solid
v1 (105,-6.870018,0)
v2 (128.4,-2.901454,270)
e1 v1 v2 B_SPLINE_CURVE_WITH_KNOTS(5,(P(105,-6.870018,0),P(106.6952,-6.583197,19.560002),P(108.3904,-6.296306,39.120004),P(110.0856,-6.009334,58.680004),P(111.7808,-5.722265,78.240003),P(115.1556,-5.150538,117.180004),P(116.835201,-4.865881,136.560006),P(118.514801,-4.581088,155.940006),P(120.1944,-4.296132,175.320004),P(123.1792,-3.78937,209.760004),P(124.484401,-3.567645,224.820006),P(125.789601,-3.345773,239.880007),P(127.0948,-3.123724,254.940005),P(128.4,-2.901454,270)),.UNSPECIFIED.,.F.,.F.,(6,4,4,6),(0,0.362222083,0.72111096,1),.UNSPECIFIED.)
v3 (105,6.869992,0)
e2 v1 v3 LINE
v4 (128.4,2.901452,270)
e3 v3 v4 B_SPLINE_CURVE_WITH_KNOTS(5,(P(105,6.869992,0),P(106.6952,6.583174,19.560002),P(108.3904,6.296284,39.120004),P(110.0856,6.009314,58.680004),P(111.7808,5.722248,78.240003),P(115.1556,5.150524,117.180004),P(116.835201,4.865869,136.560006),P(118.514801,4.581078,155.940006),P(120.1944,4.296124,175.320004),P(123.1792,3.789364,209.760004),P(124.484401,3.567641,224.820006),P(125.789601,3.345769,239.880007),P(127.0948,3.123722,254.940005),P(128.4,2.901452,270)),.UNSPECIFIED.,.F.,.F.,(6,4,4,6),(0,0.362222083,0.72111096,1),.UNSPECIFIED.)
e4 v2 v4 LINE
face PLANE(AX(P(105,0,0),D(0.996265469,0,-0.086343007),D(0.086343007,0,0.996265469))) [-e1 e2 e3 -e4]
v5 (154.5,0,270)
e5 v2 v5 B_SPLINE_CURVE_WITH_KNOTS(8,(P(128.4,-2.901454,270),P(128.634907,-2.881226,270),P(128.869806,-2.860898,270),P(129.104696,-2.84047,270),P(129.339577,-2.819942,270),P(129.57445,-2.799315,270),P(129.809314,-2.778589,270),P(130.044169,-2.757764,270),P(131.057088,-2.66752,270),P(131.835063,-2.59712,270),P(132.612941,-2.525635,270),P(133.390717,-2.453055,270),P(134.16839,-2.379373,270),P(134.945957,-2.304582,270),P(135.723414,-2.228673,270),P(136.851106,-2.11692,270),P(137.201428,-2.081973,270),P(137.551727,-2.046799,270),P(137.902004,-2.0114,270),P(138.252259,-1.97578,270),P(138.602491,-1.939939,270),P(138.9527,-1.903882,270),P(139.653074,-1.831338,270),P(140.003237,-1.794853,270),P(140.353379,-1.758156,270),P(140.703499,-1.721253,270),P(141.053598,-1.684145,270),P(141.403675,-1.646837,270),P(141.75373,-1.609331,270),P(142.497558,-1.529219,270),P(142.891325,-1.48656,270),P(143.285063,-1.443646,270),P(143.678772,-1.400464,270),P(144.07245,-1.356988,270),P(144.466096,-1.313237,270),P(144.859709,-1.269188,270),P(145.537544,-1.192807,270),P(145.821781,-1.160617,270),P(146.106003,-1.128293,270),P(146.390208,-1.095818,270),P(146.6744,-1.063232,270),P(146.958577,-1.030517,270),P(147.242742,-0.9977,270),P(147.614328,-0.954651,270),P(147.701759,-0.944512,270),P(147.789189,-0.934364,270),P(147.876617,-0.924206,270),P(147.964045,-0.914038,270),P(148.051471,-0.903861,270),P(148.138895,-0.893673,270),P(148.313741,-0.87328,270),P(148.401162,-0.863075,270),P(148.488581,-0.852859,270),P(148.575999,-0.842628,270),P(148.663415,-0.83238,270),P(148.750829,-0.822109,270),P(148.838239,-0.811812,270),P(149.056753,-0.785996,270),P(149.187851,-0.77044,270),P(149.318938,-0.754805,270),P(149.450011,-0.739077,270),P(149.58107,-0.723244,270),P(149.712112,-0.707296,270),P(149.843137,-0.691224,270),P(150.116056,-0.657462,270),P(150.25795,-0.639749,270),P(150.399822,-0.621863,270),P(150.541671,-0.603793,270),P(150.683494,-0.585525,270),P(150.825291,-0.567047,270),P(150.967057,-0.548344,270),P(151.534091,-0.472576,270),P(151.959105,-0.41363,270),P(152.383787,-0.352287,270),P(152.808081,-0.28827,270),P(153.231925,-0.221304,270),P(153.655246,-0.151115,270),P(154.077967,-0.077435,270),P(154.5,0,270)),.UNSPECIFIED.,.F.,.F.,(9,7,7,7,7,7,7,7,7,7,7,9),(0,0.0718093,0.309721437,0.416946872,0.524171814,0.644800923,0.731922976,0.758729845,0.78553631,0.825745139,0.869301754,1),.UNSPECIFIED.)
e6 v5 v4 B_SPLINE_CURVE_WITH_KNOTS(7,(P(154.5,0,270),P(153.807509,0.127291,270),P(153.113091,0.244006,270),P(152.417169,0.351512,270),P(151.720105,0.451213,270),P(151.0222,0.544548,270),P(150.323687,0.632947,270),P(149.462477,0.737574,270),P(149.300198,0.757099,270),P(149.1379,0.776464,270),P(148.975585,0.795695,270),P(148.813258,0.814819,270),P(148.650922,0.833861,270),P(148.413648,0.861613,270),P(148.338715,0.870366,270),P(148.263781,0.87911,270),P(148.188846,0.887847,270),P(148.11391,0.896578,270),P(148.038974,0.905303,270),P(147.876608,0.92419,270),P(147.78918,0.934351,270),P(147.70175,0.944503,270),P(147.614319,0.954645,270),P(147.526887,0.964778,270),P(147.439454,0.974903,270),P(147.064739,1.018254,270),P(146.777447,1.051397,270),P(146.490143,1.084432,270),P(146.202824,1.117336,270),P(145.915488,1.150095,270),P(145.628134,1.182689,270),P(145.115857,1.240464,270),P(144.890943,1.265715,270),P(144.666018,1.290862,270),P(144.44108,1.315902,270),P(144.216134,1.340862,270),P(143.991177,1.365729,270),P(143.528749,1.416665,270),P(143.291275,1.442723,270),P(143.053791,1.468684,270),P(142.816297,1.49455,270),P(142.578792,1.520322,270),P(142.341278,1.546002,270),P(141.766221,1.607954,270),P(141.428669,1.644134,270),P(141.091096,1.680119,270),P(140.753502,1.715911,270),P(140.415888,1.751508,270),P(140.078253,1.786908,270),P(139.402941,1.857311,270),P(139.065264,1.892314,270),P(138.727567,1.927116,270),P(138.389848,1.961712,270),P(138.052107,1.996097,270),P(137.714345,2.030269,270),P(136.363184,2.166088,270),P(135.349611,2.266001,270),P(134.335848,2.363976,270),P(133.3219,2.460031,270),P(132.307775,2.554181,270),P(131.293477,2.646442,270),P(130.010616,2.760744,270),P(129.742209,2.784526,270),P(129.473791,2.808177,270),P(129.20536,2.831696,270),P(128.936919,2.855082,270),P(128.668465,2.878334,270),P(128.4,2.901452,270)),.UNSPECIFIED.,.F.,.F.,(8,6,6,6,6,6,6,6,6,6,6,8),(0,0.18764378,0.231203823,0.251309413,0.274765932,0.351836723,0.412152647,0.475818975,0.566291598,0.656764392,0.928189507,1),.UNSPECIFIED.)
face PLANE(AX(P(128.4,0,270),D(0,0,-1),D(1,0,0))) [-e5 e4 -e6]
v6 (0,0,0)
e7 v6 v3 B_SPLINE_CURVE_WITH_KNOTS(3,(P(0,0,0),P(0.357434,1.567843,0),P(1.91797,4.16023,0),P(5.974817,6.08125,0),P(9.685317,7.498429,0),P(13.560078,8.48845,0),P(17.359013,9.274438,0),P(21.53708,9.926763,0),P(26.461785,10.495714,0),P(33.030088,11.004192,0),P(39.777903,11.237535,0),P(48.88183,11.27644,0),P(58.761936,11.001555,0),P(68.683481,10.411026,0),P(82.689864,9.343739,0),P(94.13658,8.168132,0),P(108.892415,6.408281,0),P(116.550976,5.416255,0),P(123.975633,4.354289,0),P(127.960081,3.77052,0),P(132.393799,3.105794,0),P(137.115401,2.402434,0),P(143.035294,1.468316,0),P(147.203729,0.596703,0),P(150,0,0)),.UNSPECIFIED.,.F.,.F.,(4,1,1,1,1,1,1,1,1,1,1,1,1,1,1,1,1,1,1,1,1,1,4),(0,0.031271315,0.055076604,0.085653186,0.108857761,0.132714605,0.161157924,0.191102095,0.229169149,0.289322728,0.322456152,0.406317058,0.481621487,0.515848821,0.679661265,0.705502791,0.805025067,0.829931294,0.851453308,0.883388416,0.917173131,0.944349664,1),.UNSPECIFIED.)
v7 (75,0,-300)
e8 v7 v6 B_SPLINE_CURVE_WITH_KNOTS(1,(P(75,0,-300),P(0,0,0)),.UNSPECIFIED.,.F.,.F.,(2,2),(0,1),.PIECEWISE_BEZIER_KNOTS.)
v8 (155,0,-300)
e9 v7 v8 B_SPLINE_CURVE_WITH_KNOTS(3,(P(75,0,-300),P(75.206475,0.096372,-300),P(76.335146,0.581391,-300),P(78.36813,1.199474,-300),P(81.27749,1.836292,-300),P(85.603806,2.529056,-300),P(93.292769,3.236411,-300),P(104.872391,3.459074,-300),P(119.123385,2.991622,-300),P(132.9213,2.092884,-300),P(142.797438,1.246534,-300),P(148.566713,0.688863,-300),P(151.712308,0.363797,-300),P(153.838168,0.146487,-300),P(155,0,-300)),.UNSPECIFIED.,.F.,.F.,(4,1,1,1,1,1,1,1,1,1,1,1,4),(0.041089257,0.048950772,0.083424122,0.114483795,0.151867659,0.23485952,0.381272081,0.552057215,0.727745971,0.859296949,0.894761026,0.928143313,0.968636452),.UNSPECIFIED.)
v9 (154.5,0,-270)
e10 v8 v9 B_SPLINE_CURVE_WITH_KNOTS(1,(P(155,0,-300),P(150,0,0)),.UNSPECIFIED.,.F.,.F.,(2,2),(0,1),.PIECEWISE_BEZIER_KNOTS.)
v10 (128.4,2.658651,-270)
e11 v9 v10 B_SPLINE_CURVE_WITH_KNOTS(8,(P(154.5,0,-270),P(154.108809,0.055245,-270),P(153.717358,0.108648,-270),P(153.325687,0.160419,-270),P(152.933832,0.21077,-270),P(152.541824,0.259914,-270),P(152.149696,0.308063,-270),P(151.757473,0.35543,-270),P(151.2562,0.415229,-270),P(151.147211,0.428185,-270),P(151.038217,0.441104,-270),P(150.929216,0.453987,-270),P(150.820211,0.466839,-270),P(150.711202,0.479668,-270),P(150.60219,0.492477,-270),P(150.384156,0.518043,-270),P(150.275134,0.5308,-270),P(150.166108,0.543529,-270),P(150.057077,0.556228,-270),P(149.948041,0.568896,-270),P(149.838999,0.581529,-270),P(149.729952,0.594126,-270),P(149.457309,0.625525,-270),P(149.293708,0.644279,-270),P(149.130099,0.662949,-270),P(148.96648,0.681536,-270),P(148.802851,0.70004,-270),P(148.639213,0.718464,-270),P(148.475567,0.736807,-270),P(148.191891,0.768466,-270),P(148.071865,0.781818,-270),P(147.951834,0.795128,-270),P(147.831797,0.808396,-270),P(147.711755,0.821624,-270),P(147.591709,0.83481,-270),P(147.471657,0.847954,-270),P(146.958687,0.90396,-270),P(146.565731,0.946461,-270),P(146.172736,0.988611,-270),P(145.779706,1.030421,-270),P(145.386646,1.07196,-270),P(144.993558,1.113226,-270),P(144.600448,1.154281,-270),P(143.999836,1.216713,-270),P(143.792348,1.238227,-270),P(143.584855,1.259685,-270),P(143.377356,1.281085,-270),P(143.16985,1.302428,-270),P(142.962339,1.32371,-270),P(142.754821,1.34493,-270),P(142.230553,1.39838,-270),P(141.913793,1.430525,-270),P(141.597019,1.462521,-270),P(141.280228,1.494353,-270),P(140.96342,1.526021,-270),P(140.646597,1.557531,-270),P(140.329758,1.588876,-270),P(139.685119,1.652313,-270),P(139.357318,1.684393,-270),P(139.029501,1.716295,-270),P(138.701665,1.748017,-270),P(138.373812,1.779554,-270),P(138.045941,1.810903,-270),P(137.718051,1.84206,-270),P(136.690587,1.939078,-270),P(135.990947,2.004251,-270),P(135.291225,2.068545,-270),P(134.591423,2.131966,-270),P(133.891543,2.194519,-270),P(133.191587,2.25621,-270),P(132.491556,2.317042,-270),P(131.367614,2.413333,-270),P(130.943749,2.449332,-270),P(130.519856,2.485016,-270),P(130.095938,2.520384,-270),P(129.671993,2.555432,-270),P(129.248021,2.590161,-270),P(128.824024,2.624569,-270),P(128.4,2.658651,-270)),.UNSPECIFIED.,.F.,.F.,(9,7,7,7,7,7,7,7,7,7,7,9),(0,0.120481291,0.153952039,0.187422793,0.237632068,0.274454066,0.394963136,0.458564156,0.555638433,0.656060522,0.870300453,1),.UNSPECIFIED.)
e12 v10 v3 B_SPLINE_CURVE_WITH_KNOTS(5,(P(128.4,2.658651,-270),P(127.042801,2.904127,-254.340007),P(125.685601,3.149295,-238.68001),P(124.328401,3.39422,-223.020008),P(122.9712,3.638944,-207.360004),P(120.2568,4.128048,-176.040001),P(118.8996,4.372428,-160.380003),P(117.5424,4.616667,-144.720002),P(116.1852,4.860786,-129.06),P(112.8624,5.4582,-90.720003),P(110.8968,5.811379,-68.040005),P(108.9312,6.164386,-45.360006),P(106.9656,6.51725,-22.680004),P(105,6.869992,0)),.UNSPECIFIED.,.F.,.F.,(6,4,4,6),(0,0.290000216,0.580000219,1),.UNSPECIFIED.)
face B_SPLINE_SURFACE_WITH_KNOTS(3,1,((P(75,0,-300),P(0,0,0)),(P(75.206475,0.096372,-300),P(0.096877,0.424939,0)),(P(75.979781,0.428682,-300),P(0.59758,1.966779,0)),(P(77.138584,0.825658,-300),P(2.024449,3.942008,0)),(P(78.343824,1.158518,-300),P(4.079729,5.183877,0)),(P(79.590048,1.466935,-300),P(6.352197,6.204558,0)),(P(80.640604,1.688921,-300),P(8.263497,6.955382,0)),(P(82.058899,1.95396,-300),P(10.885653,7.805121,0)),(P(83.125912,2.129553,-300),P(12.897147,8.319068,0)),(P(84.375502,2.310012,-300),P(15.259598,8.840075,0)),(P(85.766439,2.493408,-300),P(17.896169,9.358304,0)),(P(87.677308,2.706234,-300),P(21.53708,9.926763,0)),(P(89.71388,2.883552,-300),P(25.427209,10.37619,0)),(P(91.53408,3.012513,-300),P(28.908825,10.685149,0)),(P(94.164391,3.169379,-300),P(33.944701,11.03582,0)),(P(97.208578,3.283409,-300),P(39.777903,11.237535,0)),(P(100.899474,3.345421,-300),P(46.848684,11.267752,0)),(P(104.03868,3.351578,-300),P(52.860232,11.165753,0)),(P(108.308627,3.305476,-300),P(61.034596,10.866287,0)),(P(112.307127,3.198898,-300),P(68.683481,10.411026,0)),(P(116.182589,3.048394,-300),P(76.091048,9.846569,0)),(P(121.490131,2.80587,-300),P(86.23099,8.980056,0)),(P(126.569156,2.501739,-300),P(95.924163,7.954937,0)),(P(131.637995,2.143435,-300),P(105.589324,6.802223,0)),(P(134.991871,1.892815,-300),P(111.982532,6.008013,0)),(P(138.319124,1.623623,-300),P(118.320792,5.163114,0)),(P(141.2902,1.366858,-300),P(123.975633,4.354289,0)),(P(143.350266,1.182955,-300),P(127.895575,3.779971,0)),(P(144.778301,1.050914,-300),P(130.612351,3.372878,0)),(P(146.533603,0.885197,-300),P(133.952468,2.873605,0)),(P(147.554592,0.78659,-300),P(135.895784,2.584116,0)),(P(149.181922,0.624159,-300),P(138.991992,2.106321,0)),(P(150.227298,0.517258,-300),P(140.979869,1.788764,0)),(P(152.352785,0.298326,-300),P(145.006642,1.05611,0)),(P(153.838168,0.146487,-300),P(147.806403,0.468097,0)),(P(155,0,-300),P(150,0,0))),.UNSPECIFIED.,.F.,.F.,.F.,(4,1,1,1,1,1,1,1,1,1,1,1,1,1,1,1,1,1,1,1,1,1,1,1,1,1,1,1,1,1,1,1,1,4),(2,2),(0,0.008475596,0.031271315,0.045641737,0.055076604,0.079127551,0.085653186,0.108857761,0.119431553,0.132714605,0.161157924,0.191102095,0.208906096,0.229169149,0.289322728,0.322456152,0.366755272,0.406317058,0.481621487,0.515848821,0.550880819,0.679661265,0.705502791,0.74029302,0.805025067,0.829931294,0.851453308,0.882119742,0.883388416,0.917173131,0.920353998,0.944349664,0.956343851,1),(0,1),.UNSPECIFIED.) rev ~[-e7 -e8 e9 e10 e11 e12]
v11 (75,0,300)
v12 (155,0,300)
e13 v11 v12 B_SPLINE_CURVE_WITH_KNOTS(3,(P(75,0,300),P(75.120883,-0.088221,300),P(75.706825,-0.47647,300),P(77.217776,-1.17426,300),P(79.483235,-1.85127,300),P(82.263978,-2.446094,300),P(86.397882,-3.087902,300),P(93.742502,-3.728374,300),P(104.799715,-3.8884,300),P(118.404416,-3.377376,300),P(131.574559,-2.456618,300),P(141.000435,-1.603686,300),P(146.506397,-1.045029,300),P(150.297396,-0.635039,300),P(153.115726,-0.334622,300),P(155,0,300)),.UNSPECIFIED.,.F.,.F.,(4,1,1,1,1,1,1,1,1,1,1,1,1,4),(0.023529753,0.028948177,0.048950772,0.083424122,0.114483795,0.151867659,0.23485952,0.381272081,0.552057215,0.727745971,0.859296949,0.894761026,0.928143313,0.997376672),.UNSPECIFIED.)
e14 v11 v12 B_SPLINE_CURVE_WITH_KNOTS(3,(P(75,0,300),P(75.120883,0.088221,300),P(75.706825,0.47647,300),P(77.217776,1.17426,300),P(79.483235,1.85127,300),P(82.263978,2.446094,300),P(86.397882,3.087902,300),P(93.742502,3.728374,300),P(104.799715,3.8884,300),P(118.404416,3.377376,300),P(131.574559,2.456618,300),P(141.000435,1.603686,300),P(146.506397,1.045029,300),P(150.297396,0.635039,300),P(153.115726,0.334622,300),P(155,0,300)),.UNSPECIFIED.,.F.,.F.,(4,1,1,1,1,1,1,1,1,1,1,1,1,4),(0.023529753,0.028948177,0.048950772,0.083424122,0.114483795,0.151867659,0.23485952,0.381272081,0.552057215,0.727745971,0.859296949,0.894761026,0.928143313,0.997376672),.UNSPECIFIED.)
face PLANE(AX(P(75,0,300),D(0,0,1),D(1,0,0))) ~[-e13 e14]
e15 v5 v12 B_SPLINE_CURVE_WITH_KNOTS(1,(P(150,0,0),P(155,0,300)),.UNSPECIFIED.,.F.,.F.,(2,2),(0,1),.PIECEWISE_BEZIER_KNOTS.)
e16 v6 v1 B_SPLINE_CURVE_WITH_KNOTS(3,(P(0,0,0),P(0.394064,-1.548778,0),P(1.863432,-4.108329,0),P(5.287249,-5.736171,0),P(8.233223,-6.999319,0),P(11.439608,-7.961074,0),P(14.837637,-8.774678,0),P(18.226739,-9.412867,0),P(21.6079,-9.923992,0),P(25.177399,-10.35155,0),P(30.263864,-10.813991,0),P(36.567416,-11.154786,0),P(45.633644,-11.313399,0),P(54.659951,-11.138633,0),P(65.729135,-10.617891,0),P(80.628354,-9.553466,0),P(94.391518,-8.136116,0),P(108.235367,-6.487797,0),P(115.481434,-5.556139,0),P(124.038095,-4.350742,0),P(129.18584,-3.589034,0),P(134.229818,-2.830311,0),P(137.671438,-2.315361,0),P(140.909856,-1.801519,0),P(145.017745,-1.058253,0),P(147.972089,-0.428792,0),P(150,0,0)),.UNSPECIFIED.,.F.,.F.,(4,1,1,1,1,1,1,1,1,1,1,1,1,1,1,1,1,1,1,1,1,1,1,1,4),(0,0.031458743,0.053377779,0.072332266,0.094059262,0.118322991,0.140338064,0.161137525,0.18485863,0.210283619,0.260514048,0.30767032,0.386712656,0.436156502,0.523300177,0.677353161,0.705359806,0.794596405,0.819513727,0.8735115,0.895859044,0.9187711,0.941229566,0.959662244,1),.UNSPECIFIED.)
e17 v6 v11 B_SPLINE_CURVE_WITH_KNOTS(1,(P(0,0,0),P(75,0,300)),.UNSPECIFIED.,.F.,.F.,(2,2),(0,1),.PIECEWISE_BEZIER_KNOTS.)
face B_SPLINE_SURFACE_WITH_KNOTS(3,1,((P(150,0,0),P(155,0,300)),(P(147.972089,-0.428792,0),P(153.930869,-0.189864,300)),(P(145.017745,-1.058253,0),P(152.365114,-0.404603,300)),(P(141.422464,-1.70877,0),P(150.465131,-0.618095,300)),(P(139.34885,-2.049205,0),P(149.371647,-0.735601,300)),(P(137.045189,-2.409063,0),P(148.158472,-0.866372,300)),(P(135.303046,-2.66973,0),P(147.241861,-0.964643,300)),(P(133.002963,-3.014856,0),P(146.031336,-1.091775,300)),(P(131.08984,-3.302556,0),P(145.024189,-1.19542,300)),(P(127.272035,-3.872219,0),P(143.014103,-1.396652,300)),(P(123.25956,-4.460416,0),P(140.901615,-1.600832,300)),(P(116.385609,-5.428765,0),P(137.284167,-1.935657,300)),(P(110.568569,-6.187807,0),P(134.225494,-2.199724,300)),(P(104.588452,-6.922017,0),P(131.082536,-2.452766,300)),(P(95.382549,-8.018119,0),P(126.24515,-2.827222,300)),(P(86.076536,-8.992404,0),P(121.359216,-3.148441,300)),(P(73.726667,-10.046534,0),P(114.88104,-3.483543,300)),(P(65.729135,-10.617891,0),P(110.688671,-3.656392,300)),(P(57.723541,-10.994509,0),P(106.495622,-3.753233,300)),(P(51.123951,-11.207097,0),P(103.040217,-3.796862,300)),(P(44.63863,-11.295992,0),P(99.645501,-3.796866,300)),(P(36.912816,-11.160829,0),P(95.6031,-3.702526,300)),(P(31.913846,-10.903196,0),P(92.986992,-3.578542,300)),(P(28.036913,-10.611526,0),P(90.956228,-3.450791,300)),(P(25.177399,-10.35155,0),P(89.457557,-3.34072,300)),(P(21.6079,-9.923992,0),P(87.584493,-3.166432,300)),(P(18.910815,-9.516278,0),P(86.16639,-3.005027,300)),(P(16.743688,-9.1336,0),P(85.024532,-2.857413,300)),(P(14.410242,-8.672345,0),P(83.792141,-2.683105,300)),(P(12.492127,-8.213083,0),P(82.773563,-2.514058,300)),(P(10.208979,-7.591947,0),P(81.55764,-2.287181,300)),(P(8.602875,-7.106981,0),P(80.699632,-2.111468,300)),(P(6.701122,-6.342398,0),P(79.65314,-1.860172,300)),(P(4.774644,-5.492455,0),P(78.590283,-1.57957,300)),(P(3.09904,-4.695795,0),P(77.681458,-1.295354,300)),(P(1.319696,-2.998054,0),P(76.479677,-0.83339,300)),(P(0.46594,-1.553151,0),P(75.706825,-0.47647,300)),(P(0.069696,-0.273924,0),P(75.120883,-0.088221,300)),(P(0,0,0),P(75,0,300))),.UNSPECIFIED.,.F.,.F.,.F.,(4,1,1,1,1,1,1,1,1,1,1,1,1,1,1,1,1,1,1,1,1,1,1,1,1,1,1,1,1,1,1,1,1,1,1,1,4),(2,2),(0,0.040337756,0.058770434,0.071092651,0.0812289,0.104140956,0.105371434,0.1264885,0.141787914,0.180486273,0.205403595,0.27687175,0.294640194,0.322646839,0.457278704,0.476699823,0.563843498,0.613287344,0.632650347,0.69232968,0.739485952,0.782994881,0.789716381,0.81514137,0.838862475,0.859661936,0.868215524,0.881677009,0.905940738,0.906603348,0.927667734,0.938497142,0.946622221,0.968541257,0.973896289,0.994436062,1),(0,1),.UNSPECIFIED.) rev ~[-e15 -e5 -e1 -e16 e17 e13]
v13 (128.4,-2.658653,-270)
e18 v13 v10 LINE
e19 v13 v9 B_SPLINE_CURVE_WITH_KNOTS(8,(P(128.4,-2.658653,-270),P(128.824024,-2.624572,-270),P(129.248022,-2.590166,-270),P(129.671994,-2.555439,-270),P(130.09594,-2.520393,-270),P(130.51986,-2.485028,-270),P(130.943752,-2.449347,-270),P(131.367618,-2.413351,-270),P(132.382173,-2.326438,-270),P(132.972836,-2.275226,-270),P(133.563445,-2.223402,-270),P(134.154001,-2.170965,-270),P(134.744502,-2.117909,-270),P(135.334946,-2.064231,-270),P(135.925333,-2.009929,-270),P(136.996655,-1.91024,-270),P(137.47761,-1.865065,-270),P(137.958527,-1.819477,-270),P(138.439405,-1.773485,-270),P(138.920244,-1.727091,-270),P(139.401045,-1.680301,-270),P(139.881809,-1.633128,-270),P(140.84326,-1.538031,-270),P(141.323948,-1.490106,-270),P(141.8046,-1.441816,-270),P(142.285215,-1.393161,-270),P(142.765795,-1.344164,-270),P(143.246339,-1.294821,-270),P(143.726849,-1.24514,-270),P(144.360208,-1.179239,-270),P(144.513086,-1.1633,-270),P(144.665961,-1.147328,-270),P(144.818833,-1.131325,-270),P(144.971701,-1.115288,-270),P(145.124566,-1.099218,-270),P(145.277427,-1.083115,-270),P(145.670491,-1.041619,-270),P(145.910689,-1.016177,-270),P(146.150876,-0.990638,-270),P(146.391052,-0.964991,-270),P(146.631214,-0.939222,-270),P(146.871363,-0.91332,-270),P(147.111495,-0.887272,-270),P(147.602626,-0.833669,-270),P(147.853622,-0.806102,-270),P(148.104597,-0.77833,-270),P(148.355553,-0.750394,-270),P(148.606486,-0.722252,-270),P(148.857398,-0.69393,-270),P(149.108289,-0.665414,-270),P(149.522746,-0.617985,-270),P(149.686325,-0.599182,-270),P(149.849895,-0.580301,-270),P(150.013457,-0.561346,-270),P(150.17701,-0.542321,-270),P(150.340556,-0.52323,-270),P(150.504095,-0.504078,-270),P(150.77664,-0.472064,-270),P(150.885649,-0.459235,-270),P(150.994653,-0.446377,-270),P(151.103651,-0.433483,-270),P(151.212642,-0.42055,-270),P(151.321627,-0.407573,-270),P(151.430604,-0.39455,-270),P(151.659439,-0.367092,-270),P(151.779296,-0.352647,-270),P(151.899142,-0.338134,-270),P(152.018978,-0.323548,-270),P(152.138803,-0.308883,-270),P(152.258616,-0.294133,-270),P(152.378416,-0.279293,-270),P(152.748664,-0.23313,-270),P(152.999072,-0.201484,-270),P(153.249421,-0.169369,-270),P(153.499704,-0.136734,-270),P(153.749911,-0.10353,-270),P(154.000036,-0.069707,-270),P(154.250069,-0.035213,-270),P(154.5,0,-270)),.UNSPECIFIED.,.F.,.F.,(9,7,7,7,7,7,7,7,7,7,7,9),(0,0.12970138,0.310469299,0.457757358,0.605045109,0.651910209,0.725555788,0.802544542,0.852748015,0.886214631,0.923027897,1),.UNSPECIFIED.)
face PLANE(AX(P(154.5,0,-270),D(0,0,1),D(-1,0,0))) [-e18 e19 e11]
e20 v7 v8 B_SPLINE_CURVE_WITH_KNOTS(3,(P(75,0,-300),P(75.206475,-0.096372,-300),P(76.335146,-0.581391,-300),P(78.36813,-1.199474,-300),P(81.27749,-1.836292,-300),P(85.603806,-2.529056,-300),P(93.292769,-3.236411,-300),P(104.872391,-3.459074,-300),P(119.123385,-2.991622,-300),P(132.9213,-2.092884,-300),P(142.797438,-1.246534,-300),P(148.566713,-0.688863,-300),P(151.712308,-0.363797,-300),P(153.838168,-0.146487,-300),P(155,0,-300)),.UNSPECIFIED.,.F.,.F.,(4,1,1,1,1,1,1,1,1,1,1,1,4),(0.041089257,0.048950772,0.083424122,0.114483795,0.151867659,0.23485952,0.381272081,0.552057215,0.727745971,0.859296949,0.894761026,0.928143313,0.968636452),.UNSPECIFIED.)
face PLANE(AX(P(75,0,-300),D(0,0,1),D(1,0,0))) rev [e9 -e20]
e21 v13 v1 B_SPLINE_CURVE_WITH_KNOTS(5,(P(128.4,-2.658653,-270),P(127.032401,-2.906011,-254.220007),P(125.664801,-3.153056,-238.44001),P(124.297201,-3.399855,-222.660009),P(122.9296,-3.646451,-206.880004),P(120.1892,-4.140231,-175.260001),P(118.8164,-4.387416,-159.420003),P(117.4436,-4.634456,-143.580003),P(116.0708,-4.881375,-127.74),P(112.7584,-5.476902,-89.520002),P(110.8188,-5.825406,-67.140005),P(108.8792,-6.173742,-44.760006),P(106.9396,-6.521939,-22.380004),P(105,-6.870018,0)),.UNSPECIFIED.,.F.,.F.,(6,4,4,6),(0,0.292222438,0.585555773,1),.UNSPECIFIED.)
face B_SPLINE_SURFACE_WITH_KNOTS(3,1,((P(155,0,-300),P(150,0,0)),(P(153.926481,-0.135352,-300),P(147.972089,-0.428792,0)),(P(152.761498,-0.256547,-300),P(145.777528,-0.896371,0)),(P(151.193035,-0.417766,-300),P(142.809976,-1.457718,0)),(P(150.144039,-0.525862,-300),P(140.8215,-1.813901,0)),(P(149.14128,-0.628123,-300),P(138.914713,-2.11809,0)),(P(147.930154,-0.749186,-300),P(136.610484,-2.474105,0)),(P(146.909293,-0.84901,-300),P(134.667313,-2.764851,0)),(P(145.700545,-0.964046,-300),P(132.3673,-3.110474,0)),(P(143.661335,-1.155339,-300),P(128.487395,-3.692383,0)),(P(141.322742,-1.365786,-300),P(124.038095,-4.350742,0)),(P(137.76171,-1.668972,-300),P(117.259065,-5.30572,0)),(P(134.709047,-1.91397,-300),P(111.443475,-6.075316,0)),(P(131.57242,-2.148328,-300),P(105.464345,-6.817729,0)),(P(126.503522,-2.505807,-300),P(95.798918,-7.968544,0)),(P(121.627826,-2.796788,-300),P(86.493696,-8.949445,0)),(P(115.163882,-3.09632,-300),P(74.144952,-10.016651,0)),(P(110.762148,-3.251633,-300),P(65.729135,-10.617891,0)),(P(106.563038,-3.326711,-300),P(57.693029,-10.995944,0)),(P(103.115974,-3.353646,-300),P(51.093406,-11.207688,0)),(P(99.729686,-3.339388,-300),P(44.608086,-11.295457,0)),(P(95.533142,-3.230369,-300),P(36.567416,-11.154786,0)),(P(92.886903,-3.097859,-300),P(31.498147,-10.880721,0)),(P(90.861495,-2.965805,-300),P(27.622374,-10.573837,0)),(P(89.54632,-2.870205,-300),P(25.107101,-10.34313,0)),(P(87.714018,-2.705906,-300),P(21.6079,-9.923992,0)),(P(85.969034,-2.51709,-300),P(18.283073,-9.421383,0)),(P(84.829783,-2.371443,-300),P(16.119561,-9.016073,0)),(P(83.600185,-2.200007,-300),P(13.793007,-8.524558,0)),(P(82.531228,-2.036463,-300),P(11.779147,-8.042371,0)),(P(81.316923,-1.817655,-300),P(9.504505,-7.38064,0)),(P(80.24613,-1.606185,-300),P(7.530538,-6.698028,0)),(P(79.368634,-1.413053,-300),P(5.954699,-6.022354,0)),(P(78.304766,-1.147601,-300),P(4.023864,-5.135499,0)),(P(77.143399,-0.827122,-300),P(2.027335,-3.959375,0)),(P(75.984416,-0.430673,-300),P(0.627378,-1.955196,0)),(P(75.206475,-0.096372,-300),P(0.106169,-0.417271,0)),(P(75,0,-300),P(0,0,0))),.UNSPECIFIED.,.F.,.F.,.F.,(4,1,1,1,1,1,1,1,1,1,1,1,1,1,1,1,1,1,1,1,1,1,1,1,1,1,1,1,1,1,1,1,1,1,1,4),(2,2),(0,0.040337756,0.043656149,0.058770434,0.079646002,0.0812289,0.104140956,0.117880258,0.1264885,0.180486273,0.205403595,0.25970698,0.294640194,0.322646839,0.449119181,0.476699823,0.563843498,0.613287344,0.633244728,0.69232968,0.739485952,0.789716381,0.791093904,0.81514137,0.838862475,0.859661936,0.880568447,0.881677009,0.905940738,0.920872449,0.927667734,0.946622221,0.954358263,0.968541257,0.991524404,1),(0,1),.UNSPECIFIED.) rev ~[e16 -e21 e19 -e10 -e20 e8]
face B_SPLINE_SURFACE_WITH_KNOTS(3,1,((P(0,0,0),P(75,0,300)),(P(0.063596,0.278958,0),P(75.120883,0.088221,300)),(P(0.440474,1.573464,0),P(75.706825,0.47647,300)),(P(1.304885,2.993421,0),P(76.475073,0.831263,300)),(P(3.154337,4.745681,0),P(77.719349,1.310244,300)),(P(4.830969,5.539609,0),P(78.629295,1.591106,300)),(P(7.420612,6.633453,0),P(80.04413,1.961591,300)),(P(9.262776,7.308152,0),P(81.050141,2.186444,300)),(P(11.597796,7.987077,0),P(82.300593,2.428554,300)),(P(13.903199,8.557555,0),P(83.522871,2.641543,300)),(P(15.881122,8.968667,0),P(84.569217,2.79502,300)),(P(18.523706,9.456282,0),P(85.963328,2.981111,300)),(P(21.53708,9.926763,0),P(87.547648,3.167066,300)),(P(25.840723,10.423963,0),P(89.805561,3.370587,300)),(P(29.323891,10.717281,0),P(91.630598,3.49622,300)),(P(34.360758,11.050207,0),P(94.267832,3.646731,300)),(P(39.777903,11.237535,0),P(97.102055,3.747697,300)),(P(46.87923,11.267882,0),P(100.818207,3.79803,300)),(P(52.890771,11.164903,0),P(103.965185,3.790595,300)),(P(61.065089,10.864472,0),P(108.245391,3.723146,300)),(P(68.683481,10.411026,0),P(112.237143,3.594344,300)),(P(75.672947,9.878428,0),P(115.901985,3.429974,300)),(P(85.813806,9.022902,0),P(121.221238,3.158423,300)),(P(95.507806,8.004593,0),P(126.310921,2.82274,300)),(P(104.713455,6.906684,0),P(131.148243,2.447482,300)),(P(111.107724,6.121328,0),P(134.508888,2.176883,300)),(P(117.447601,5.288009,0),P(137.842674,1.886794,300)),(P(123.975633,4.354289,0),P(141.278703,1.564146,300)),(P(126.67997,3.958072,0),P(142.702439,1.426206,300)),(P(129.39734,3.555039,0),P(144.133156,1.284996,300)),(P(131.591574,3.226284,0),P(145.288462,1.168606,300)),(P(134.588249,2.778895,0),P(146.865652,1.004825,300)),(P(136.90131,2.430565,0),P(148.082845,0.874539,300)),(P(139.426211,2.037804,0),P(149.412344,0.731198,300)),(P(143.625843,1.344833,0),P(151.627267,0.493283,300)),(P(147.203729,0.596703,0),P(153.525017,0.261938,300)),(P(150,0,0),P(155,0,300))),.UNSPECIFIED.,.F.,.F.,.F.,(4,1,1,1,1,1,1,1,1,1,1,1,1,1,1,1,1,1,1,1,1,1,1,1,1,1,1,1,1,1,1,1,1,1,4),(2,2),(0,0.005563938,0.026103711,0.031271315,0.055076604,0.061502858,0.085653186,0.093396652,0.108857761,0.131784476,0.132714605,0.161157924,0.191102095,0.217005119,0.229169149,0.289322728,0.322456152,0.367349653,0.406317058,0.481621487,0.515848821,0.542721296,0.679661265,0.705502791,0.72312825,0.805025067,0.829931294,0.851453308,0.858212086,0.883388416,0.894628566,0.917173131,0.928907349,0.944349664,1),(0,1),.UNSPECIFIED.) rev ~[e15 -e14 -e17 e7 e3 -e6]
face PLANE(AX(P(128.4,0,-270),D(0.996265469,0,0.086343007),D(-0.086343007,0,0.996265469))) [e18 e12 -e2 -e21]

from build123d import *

# Parameters (mm, degrees)
CUT_EXTRUDE1_DEPTH      = 338.86333719
CUT_EXTRUDE1_DEPTH_BACK = 338.86333719


with BuildPart() as part:
    # Sketch7 → Loft1 section 0
    with BuildSketch(Plane.XY.offset(-300)):
        with BuildLine():
            add(Edge.make_bspline(
                [(75, 0), (75.206475425, 0.096371722), (76.3351457, 0.581391278), (78.368129782, 1.199474072), (81.277489522, 1.836292239), (85.603806113, 2.529055956), (93.292769423, 3.236411315), (104.872391196, 3.45907425), (119.123385393, 2.991621898), (132.921299844, 2.092884069), (142.797437906, 1.246534379), (148.566713359, 0.688863299), (151.71230792, 0.363797013), (153.838167507, 0.146487283), (155, 0)],
                knots=[0.041089257, 0.041089257, 0.041089257, 0.041089257, 0.048950772, 0.083424122, 0.114483795, 0.151867659, 0.23485952, 0.381272081, 0.552057215, 0.727745971, 0.859296949, 0.894761026, 0.928143313, 0.968636452, 0.968636452, 0.968636452, 0.968636452], degree=3))
            add(Edge.make_bspline(
                [(75, 0), (75.206475425, -0.096371722), (76.3351457, -0.581391278), (78.368129782, -1.199474072), (81.277489522, -1.836292239), (85.603806113, -2.529055956), (93.292769423, -3.236411315), (104.872391196, -3.45907425), (119.123385393, -2.991621898), (132.921299844, -2.092884069), (142.797437905, -1.246534379), (148.566713359, -0.688863299), (151.71230792, -0.363797013), (153.838167507, -0.146487283), (155, 0)],
                knots=[0.041089257, 0.041089257, 0.041089257, 0.041089257, 0.048950772, 0.083424122, 0.114483795, 0.151867659, 0.23485952, 0.381272081, 0.552057215, 0.727745971, 0.859296949, 0.894761026, 0.928143313, 0.968636452, 0.968636452, 0.968636452, 0.968636452], degree=3))
        make_face()
    # Sketch5 → Loft1 section 1
    with BuildSketch(Plane.XY):
        with BuildLine():
            add(Edge.make_bspline(
                [(0, 0), (0.357433553, 1.567842951), (1.917970176, 4.160229764), (5.97481653, 6.081249697), (9.685317154, 7.498428782), (13.560078119, 8.488450032), (17.359013279, 9.274437737), (21.537080113, 9.926762724), (26.46178465, 10.495714484), (33.030088427, 11.004191676), (39.777903449, 11.237535202), (48.881830343, 11.276440135), (58.76193613, 11.001555412), (68.683481214, 10.411026067), (82.689863985, 9.343738865), (94.136580366, 8.168132094), (108.892414504, 6.408281033), (116.550975745, 5.416254952), (123.975633155, 4.354289335), (127.960081342, 3.77052037), (132.393799107, 3.105793902), (137.115401047, 2.40243394), (143.03529364, 1.468316053), (147.203728737, 0.596703087), (150, 0)],
                knots=[0, 0, 0, 0, 0.031271315, 0.055076604, 0.085653186, 0.108857761, 0.132714605, 0.161157924, 0.191102095, 0.229169149, 0.289322728, 0.322456152, 0.406317058, 0.481621487, 0.515848821, 0.679661265, 0.705502791, 0.805025067, 0.829931294, 0.851453308, 0.883388416, 0.917173131, 0.944349664, 1, 1, 1, 1], degree=3))
            add(Edge.make_bspline(
                [(0, 0), (0.394064241, -1.54877785), (1.863432045, -4.108329327), (5.28724909, -5.736171), (8.233222924, -6.999318685), (11.439608234, -7.961073986), (14.837636919, -8.774678376), (18.226738528, -9.412867336), (21.607899865, -9.923992079), (25.17739935, -10.35155024), (30.263863608, -10.813990829), (36.567415813, -11.154786303), (45.633644275, -11.313399436), (54.659951216, -11.138633145), (65.729134774, -10.617890693), (80.628353886, -9.553465623), (94.39151788, -8.136116187), (108.235367187, -6.487796867), (115.481434177, -5.556138542), (124.038094924, -4.350742236), (129.185840061, -3.589034499), (134.229817914, -2.830310801), (137.671437841, -2.315360587), (140.909856219, -1.801519139), (145.017744862, -1.058252808), (147.972088501, -0.42879218), (150, 0)],
                knots=[0, 0, 0, 0, 0.031458743, 0.053377779, 0.072332266, 0.094059262, 0.118322991, 0.140338064, 0.161137525, 0.18485863, 0.210283619, 0.260514048, 0.30767032, 0.386712656, 0.436156502, 0.523300177, 0.677353161, 0.705359806, 0.794596405, 0.819513727, 0.8735115, 0.895859044, 0.9187711, 0.941229566, 0.959662244, 1, 1, 1, 1], degree=3))
        make_face()
    loft()

    # Sketch5<3> → Loft2 section 0
    with BuildSketch(Plane.XY):
        with BuildLine():
            add(Edge.make_bspline(
                [(0, 0), (0.357433553, 1.567842951), (1.917970176, 4.160229764), (5.97481653, 6.081249697), (9.685317154, 7.498428782), (13.560078119, 8.488450032), (17.359013279, 9.274437737), (21.537080113, 9.926762724), (26.46178465, 10.495714484), (33.030088427, 11.004191676), (39.777903449, 11.237535202), (48.881830343, 11.276440135), (58.76193613, 11.001555412), (68.683481214, 10.411026067), (82.689863985, 9.343738865), (94.136580366, 8.168132094), (108.892414504, 6.408281033), (116.550975745, 5.416254952), (123.975633155, 4.354289335), (127.960081342, 3.77052037), (132.393799107, 3.105793902), (137.115401047, 2.40243394), (143.03529364, 1.468316053), (147.203728737, 0.596703087), (150, 0)],
                knots=[0, 0, 0, 0, 0.031271315, 0.055076604, 0.085653186, 0.108857761, 0.132714605, 0.161157924, 0.191102095, 0.229169149, 0.289322728, 0.322456152, 0.406317058, 0.481621487, 0.515848821, 0.679661265, 0.705502791, 0.805025067, 0.829931294, 0.851453308, 0.883388416, 0.917173131, 0.944349664, 1, 1, 1, 1], degree=3))
            add(Edge.make_bspline(
                [(0, 0), (0.394064241, -1.54877785), (1.863432045, -4.108329327), (5.28724909, -5.736171), (8.233222924, -6.999318685), (11.439608234, -7.961073986), (14.837636919, -8.774678376), (18.226738528, -9.412867336), (21.607899865, -9.923992079), (25.17739935, -10.35155024), (30.263863608, -10.813990829), (36.567415813, -11.154786303), (45.633644275, -11.313399436), (54.659951216, -11.138633145), (65.729134774, -10.617890693), (80.628353886, -9.553465623), (94.39151788, -8.136116187), (108.235367187, -6.487796867), (115.481434177, -5.556138542), (124.038094924, -4.350742236), (129.185840061, -3.589034499), (134.229817914, -2.830310801), (137.671437841, -2.315360587), (140.909856219, -1.801519139), (145.017744862, -1.058252808), (147.972088501, -0.42879218), (150, 0)],
                knots=[0, 0, 0, 0, 0.031458743, 0.053377779, 0.072332266, 0.094059262, 0.118322991, 0.140338064, 0.161137525, 0.18485863, 0.210283619, 0.260514048, 0.30767032, 0.386712656, 0.436156502, 0.523300177, 0.677353161, 0.705359806, 0.794596405, 0.819513727, 0.8735115, 0.895859044, 0.9187711, 0.941229566, 0.959662244, 1, 1, 1, 1], degree=3))
        make_face()
    # Sketch6 → Loft2 section 1
    with BuildSketch(Plane.XY.offset(300)):
        with BuildLine():
            add(Edge.make_bspline(
                [(75, 0), (75.120883083, 0.088220679), (75.706824811, 0.476470131), (77.217776324, 1.174259893), (79.48323534, 1.851270283), (82.263977956, 2.446094236), (86.397882391, 3.087901728), (93.742502034, 3.72837444), (104.799714721, 3.888399612), (118.404415718, 3.377375586), (131.574558905, 2.456618013), (141.000434992, 1.603685916), (146.506396783, 1.045029323), (150.297395847, 0.6350389), (153.115725967, 0.334622173), (155, 0)],
                knots=[0.023529753, 0.023529753, 0.023529753, 0.023529753, 0.028948177, 0.048950772, 0.083424122, 0.114483795, 0.151867659, 0.23485952, 0.381272081, 0.552057215, 0.727745971, 0.859296949, 0.894761026, 0.928143313, 0.997376672, 0.997376672, 0.997376672, 0.997376672], degree=3))
            add(Edge.make_bspline(
                [(75, 0), (75.120883083, -0.088220679), (75.706824811, -0.476470131), (77.217776323, -1.174259893), (79.48323534, -1.851270283), (82.263977955, -2.446094236), (86.397882391, -3.087901728), (93.742502034, -3.72837444), (104.799714721, -3.888399612), (118.404415718, -3.377375586), (131.574558905, -2.456618013), (141.000434992, -1.603685916), (146.506396783, -1.045029323), (150.297395847, -0.6350389), (153.115725967, -0.334622173), (155, 0)],
                knots=[0.023529753, 0.023529753, 0.023529753, 0.023529753, 0.028948177, 0.048950772, 0.083424122, 0.114483795, 0.151867659, 0.23485952, 0.381272081, 0.552057215, 0.727745971, 0.859296949, 0.894761026, 0.928143313, 0.997376672, 0.997376672, 0.997376672, 0.997376672], degree=3))
        make_face()
    loft()

    # Sketch10 → Cut-Extrude1 (cut, two sides: drawn at the far end of the back side and taken through both)
    with BuildSketch(Plane(origin=(0, 0, 0), x_dir=(1, 0, 0), z_dir=(0, 1, 0)).offset(-CUT_EXTRUDE1_DEPTH_BACK)):
        Polygon((154.5, 270), (128.4, 270), (105, 0), (128.4, -270), (154.5, -270), (150, 0), align=None)
    extrude(amount=CUT_EXTRUDE1_DEPTH + CUT_EXTRUDE1_DEPTH_BACK, mode=Mode.SUBTRACT)


solid = part.part
